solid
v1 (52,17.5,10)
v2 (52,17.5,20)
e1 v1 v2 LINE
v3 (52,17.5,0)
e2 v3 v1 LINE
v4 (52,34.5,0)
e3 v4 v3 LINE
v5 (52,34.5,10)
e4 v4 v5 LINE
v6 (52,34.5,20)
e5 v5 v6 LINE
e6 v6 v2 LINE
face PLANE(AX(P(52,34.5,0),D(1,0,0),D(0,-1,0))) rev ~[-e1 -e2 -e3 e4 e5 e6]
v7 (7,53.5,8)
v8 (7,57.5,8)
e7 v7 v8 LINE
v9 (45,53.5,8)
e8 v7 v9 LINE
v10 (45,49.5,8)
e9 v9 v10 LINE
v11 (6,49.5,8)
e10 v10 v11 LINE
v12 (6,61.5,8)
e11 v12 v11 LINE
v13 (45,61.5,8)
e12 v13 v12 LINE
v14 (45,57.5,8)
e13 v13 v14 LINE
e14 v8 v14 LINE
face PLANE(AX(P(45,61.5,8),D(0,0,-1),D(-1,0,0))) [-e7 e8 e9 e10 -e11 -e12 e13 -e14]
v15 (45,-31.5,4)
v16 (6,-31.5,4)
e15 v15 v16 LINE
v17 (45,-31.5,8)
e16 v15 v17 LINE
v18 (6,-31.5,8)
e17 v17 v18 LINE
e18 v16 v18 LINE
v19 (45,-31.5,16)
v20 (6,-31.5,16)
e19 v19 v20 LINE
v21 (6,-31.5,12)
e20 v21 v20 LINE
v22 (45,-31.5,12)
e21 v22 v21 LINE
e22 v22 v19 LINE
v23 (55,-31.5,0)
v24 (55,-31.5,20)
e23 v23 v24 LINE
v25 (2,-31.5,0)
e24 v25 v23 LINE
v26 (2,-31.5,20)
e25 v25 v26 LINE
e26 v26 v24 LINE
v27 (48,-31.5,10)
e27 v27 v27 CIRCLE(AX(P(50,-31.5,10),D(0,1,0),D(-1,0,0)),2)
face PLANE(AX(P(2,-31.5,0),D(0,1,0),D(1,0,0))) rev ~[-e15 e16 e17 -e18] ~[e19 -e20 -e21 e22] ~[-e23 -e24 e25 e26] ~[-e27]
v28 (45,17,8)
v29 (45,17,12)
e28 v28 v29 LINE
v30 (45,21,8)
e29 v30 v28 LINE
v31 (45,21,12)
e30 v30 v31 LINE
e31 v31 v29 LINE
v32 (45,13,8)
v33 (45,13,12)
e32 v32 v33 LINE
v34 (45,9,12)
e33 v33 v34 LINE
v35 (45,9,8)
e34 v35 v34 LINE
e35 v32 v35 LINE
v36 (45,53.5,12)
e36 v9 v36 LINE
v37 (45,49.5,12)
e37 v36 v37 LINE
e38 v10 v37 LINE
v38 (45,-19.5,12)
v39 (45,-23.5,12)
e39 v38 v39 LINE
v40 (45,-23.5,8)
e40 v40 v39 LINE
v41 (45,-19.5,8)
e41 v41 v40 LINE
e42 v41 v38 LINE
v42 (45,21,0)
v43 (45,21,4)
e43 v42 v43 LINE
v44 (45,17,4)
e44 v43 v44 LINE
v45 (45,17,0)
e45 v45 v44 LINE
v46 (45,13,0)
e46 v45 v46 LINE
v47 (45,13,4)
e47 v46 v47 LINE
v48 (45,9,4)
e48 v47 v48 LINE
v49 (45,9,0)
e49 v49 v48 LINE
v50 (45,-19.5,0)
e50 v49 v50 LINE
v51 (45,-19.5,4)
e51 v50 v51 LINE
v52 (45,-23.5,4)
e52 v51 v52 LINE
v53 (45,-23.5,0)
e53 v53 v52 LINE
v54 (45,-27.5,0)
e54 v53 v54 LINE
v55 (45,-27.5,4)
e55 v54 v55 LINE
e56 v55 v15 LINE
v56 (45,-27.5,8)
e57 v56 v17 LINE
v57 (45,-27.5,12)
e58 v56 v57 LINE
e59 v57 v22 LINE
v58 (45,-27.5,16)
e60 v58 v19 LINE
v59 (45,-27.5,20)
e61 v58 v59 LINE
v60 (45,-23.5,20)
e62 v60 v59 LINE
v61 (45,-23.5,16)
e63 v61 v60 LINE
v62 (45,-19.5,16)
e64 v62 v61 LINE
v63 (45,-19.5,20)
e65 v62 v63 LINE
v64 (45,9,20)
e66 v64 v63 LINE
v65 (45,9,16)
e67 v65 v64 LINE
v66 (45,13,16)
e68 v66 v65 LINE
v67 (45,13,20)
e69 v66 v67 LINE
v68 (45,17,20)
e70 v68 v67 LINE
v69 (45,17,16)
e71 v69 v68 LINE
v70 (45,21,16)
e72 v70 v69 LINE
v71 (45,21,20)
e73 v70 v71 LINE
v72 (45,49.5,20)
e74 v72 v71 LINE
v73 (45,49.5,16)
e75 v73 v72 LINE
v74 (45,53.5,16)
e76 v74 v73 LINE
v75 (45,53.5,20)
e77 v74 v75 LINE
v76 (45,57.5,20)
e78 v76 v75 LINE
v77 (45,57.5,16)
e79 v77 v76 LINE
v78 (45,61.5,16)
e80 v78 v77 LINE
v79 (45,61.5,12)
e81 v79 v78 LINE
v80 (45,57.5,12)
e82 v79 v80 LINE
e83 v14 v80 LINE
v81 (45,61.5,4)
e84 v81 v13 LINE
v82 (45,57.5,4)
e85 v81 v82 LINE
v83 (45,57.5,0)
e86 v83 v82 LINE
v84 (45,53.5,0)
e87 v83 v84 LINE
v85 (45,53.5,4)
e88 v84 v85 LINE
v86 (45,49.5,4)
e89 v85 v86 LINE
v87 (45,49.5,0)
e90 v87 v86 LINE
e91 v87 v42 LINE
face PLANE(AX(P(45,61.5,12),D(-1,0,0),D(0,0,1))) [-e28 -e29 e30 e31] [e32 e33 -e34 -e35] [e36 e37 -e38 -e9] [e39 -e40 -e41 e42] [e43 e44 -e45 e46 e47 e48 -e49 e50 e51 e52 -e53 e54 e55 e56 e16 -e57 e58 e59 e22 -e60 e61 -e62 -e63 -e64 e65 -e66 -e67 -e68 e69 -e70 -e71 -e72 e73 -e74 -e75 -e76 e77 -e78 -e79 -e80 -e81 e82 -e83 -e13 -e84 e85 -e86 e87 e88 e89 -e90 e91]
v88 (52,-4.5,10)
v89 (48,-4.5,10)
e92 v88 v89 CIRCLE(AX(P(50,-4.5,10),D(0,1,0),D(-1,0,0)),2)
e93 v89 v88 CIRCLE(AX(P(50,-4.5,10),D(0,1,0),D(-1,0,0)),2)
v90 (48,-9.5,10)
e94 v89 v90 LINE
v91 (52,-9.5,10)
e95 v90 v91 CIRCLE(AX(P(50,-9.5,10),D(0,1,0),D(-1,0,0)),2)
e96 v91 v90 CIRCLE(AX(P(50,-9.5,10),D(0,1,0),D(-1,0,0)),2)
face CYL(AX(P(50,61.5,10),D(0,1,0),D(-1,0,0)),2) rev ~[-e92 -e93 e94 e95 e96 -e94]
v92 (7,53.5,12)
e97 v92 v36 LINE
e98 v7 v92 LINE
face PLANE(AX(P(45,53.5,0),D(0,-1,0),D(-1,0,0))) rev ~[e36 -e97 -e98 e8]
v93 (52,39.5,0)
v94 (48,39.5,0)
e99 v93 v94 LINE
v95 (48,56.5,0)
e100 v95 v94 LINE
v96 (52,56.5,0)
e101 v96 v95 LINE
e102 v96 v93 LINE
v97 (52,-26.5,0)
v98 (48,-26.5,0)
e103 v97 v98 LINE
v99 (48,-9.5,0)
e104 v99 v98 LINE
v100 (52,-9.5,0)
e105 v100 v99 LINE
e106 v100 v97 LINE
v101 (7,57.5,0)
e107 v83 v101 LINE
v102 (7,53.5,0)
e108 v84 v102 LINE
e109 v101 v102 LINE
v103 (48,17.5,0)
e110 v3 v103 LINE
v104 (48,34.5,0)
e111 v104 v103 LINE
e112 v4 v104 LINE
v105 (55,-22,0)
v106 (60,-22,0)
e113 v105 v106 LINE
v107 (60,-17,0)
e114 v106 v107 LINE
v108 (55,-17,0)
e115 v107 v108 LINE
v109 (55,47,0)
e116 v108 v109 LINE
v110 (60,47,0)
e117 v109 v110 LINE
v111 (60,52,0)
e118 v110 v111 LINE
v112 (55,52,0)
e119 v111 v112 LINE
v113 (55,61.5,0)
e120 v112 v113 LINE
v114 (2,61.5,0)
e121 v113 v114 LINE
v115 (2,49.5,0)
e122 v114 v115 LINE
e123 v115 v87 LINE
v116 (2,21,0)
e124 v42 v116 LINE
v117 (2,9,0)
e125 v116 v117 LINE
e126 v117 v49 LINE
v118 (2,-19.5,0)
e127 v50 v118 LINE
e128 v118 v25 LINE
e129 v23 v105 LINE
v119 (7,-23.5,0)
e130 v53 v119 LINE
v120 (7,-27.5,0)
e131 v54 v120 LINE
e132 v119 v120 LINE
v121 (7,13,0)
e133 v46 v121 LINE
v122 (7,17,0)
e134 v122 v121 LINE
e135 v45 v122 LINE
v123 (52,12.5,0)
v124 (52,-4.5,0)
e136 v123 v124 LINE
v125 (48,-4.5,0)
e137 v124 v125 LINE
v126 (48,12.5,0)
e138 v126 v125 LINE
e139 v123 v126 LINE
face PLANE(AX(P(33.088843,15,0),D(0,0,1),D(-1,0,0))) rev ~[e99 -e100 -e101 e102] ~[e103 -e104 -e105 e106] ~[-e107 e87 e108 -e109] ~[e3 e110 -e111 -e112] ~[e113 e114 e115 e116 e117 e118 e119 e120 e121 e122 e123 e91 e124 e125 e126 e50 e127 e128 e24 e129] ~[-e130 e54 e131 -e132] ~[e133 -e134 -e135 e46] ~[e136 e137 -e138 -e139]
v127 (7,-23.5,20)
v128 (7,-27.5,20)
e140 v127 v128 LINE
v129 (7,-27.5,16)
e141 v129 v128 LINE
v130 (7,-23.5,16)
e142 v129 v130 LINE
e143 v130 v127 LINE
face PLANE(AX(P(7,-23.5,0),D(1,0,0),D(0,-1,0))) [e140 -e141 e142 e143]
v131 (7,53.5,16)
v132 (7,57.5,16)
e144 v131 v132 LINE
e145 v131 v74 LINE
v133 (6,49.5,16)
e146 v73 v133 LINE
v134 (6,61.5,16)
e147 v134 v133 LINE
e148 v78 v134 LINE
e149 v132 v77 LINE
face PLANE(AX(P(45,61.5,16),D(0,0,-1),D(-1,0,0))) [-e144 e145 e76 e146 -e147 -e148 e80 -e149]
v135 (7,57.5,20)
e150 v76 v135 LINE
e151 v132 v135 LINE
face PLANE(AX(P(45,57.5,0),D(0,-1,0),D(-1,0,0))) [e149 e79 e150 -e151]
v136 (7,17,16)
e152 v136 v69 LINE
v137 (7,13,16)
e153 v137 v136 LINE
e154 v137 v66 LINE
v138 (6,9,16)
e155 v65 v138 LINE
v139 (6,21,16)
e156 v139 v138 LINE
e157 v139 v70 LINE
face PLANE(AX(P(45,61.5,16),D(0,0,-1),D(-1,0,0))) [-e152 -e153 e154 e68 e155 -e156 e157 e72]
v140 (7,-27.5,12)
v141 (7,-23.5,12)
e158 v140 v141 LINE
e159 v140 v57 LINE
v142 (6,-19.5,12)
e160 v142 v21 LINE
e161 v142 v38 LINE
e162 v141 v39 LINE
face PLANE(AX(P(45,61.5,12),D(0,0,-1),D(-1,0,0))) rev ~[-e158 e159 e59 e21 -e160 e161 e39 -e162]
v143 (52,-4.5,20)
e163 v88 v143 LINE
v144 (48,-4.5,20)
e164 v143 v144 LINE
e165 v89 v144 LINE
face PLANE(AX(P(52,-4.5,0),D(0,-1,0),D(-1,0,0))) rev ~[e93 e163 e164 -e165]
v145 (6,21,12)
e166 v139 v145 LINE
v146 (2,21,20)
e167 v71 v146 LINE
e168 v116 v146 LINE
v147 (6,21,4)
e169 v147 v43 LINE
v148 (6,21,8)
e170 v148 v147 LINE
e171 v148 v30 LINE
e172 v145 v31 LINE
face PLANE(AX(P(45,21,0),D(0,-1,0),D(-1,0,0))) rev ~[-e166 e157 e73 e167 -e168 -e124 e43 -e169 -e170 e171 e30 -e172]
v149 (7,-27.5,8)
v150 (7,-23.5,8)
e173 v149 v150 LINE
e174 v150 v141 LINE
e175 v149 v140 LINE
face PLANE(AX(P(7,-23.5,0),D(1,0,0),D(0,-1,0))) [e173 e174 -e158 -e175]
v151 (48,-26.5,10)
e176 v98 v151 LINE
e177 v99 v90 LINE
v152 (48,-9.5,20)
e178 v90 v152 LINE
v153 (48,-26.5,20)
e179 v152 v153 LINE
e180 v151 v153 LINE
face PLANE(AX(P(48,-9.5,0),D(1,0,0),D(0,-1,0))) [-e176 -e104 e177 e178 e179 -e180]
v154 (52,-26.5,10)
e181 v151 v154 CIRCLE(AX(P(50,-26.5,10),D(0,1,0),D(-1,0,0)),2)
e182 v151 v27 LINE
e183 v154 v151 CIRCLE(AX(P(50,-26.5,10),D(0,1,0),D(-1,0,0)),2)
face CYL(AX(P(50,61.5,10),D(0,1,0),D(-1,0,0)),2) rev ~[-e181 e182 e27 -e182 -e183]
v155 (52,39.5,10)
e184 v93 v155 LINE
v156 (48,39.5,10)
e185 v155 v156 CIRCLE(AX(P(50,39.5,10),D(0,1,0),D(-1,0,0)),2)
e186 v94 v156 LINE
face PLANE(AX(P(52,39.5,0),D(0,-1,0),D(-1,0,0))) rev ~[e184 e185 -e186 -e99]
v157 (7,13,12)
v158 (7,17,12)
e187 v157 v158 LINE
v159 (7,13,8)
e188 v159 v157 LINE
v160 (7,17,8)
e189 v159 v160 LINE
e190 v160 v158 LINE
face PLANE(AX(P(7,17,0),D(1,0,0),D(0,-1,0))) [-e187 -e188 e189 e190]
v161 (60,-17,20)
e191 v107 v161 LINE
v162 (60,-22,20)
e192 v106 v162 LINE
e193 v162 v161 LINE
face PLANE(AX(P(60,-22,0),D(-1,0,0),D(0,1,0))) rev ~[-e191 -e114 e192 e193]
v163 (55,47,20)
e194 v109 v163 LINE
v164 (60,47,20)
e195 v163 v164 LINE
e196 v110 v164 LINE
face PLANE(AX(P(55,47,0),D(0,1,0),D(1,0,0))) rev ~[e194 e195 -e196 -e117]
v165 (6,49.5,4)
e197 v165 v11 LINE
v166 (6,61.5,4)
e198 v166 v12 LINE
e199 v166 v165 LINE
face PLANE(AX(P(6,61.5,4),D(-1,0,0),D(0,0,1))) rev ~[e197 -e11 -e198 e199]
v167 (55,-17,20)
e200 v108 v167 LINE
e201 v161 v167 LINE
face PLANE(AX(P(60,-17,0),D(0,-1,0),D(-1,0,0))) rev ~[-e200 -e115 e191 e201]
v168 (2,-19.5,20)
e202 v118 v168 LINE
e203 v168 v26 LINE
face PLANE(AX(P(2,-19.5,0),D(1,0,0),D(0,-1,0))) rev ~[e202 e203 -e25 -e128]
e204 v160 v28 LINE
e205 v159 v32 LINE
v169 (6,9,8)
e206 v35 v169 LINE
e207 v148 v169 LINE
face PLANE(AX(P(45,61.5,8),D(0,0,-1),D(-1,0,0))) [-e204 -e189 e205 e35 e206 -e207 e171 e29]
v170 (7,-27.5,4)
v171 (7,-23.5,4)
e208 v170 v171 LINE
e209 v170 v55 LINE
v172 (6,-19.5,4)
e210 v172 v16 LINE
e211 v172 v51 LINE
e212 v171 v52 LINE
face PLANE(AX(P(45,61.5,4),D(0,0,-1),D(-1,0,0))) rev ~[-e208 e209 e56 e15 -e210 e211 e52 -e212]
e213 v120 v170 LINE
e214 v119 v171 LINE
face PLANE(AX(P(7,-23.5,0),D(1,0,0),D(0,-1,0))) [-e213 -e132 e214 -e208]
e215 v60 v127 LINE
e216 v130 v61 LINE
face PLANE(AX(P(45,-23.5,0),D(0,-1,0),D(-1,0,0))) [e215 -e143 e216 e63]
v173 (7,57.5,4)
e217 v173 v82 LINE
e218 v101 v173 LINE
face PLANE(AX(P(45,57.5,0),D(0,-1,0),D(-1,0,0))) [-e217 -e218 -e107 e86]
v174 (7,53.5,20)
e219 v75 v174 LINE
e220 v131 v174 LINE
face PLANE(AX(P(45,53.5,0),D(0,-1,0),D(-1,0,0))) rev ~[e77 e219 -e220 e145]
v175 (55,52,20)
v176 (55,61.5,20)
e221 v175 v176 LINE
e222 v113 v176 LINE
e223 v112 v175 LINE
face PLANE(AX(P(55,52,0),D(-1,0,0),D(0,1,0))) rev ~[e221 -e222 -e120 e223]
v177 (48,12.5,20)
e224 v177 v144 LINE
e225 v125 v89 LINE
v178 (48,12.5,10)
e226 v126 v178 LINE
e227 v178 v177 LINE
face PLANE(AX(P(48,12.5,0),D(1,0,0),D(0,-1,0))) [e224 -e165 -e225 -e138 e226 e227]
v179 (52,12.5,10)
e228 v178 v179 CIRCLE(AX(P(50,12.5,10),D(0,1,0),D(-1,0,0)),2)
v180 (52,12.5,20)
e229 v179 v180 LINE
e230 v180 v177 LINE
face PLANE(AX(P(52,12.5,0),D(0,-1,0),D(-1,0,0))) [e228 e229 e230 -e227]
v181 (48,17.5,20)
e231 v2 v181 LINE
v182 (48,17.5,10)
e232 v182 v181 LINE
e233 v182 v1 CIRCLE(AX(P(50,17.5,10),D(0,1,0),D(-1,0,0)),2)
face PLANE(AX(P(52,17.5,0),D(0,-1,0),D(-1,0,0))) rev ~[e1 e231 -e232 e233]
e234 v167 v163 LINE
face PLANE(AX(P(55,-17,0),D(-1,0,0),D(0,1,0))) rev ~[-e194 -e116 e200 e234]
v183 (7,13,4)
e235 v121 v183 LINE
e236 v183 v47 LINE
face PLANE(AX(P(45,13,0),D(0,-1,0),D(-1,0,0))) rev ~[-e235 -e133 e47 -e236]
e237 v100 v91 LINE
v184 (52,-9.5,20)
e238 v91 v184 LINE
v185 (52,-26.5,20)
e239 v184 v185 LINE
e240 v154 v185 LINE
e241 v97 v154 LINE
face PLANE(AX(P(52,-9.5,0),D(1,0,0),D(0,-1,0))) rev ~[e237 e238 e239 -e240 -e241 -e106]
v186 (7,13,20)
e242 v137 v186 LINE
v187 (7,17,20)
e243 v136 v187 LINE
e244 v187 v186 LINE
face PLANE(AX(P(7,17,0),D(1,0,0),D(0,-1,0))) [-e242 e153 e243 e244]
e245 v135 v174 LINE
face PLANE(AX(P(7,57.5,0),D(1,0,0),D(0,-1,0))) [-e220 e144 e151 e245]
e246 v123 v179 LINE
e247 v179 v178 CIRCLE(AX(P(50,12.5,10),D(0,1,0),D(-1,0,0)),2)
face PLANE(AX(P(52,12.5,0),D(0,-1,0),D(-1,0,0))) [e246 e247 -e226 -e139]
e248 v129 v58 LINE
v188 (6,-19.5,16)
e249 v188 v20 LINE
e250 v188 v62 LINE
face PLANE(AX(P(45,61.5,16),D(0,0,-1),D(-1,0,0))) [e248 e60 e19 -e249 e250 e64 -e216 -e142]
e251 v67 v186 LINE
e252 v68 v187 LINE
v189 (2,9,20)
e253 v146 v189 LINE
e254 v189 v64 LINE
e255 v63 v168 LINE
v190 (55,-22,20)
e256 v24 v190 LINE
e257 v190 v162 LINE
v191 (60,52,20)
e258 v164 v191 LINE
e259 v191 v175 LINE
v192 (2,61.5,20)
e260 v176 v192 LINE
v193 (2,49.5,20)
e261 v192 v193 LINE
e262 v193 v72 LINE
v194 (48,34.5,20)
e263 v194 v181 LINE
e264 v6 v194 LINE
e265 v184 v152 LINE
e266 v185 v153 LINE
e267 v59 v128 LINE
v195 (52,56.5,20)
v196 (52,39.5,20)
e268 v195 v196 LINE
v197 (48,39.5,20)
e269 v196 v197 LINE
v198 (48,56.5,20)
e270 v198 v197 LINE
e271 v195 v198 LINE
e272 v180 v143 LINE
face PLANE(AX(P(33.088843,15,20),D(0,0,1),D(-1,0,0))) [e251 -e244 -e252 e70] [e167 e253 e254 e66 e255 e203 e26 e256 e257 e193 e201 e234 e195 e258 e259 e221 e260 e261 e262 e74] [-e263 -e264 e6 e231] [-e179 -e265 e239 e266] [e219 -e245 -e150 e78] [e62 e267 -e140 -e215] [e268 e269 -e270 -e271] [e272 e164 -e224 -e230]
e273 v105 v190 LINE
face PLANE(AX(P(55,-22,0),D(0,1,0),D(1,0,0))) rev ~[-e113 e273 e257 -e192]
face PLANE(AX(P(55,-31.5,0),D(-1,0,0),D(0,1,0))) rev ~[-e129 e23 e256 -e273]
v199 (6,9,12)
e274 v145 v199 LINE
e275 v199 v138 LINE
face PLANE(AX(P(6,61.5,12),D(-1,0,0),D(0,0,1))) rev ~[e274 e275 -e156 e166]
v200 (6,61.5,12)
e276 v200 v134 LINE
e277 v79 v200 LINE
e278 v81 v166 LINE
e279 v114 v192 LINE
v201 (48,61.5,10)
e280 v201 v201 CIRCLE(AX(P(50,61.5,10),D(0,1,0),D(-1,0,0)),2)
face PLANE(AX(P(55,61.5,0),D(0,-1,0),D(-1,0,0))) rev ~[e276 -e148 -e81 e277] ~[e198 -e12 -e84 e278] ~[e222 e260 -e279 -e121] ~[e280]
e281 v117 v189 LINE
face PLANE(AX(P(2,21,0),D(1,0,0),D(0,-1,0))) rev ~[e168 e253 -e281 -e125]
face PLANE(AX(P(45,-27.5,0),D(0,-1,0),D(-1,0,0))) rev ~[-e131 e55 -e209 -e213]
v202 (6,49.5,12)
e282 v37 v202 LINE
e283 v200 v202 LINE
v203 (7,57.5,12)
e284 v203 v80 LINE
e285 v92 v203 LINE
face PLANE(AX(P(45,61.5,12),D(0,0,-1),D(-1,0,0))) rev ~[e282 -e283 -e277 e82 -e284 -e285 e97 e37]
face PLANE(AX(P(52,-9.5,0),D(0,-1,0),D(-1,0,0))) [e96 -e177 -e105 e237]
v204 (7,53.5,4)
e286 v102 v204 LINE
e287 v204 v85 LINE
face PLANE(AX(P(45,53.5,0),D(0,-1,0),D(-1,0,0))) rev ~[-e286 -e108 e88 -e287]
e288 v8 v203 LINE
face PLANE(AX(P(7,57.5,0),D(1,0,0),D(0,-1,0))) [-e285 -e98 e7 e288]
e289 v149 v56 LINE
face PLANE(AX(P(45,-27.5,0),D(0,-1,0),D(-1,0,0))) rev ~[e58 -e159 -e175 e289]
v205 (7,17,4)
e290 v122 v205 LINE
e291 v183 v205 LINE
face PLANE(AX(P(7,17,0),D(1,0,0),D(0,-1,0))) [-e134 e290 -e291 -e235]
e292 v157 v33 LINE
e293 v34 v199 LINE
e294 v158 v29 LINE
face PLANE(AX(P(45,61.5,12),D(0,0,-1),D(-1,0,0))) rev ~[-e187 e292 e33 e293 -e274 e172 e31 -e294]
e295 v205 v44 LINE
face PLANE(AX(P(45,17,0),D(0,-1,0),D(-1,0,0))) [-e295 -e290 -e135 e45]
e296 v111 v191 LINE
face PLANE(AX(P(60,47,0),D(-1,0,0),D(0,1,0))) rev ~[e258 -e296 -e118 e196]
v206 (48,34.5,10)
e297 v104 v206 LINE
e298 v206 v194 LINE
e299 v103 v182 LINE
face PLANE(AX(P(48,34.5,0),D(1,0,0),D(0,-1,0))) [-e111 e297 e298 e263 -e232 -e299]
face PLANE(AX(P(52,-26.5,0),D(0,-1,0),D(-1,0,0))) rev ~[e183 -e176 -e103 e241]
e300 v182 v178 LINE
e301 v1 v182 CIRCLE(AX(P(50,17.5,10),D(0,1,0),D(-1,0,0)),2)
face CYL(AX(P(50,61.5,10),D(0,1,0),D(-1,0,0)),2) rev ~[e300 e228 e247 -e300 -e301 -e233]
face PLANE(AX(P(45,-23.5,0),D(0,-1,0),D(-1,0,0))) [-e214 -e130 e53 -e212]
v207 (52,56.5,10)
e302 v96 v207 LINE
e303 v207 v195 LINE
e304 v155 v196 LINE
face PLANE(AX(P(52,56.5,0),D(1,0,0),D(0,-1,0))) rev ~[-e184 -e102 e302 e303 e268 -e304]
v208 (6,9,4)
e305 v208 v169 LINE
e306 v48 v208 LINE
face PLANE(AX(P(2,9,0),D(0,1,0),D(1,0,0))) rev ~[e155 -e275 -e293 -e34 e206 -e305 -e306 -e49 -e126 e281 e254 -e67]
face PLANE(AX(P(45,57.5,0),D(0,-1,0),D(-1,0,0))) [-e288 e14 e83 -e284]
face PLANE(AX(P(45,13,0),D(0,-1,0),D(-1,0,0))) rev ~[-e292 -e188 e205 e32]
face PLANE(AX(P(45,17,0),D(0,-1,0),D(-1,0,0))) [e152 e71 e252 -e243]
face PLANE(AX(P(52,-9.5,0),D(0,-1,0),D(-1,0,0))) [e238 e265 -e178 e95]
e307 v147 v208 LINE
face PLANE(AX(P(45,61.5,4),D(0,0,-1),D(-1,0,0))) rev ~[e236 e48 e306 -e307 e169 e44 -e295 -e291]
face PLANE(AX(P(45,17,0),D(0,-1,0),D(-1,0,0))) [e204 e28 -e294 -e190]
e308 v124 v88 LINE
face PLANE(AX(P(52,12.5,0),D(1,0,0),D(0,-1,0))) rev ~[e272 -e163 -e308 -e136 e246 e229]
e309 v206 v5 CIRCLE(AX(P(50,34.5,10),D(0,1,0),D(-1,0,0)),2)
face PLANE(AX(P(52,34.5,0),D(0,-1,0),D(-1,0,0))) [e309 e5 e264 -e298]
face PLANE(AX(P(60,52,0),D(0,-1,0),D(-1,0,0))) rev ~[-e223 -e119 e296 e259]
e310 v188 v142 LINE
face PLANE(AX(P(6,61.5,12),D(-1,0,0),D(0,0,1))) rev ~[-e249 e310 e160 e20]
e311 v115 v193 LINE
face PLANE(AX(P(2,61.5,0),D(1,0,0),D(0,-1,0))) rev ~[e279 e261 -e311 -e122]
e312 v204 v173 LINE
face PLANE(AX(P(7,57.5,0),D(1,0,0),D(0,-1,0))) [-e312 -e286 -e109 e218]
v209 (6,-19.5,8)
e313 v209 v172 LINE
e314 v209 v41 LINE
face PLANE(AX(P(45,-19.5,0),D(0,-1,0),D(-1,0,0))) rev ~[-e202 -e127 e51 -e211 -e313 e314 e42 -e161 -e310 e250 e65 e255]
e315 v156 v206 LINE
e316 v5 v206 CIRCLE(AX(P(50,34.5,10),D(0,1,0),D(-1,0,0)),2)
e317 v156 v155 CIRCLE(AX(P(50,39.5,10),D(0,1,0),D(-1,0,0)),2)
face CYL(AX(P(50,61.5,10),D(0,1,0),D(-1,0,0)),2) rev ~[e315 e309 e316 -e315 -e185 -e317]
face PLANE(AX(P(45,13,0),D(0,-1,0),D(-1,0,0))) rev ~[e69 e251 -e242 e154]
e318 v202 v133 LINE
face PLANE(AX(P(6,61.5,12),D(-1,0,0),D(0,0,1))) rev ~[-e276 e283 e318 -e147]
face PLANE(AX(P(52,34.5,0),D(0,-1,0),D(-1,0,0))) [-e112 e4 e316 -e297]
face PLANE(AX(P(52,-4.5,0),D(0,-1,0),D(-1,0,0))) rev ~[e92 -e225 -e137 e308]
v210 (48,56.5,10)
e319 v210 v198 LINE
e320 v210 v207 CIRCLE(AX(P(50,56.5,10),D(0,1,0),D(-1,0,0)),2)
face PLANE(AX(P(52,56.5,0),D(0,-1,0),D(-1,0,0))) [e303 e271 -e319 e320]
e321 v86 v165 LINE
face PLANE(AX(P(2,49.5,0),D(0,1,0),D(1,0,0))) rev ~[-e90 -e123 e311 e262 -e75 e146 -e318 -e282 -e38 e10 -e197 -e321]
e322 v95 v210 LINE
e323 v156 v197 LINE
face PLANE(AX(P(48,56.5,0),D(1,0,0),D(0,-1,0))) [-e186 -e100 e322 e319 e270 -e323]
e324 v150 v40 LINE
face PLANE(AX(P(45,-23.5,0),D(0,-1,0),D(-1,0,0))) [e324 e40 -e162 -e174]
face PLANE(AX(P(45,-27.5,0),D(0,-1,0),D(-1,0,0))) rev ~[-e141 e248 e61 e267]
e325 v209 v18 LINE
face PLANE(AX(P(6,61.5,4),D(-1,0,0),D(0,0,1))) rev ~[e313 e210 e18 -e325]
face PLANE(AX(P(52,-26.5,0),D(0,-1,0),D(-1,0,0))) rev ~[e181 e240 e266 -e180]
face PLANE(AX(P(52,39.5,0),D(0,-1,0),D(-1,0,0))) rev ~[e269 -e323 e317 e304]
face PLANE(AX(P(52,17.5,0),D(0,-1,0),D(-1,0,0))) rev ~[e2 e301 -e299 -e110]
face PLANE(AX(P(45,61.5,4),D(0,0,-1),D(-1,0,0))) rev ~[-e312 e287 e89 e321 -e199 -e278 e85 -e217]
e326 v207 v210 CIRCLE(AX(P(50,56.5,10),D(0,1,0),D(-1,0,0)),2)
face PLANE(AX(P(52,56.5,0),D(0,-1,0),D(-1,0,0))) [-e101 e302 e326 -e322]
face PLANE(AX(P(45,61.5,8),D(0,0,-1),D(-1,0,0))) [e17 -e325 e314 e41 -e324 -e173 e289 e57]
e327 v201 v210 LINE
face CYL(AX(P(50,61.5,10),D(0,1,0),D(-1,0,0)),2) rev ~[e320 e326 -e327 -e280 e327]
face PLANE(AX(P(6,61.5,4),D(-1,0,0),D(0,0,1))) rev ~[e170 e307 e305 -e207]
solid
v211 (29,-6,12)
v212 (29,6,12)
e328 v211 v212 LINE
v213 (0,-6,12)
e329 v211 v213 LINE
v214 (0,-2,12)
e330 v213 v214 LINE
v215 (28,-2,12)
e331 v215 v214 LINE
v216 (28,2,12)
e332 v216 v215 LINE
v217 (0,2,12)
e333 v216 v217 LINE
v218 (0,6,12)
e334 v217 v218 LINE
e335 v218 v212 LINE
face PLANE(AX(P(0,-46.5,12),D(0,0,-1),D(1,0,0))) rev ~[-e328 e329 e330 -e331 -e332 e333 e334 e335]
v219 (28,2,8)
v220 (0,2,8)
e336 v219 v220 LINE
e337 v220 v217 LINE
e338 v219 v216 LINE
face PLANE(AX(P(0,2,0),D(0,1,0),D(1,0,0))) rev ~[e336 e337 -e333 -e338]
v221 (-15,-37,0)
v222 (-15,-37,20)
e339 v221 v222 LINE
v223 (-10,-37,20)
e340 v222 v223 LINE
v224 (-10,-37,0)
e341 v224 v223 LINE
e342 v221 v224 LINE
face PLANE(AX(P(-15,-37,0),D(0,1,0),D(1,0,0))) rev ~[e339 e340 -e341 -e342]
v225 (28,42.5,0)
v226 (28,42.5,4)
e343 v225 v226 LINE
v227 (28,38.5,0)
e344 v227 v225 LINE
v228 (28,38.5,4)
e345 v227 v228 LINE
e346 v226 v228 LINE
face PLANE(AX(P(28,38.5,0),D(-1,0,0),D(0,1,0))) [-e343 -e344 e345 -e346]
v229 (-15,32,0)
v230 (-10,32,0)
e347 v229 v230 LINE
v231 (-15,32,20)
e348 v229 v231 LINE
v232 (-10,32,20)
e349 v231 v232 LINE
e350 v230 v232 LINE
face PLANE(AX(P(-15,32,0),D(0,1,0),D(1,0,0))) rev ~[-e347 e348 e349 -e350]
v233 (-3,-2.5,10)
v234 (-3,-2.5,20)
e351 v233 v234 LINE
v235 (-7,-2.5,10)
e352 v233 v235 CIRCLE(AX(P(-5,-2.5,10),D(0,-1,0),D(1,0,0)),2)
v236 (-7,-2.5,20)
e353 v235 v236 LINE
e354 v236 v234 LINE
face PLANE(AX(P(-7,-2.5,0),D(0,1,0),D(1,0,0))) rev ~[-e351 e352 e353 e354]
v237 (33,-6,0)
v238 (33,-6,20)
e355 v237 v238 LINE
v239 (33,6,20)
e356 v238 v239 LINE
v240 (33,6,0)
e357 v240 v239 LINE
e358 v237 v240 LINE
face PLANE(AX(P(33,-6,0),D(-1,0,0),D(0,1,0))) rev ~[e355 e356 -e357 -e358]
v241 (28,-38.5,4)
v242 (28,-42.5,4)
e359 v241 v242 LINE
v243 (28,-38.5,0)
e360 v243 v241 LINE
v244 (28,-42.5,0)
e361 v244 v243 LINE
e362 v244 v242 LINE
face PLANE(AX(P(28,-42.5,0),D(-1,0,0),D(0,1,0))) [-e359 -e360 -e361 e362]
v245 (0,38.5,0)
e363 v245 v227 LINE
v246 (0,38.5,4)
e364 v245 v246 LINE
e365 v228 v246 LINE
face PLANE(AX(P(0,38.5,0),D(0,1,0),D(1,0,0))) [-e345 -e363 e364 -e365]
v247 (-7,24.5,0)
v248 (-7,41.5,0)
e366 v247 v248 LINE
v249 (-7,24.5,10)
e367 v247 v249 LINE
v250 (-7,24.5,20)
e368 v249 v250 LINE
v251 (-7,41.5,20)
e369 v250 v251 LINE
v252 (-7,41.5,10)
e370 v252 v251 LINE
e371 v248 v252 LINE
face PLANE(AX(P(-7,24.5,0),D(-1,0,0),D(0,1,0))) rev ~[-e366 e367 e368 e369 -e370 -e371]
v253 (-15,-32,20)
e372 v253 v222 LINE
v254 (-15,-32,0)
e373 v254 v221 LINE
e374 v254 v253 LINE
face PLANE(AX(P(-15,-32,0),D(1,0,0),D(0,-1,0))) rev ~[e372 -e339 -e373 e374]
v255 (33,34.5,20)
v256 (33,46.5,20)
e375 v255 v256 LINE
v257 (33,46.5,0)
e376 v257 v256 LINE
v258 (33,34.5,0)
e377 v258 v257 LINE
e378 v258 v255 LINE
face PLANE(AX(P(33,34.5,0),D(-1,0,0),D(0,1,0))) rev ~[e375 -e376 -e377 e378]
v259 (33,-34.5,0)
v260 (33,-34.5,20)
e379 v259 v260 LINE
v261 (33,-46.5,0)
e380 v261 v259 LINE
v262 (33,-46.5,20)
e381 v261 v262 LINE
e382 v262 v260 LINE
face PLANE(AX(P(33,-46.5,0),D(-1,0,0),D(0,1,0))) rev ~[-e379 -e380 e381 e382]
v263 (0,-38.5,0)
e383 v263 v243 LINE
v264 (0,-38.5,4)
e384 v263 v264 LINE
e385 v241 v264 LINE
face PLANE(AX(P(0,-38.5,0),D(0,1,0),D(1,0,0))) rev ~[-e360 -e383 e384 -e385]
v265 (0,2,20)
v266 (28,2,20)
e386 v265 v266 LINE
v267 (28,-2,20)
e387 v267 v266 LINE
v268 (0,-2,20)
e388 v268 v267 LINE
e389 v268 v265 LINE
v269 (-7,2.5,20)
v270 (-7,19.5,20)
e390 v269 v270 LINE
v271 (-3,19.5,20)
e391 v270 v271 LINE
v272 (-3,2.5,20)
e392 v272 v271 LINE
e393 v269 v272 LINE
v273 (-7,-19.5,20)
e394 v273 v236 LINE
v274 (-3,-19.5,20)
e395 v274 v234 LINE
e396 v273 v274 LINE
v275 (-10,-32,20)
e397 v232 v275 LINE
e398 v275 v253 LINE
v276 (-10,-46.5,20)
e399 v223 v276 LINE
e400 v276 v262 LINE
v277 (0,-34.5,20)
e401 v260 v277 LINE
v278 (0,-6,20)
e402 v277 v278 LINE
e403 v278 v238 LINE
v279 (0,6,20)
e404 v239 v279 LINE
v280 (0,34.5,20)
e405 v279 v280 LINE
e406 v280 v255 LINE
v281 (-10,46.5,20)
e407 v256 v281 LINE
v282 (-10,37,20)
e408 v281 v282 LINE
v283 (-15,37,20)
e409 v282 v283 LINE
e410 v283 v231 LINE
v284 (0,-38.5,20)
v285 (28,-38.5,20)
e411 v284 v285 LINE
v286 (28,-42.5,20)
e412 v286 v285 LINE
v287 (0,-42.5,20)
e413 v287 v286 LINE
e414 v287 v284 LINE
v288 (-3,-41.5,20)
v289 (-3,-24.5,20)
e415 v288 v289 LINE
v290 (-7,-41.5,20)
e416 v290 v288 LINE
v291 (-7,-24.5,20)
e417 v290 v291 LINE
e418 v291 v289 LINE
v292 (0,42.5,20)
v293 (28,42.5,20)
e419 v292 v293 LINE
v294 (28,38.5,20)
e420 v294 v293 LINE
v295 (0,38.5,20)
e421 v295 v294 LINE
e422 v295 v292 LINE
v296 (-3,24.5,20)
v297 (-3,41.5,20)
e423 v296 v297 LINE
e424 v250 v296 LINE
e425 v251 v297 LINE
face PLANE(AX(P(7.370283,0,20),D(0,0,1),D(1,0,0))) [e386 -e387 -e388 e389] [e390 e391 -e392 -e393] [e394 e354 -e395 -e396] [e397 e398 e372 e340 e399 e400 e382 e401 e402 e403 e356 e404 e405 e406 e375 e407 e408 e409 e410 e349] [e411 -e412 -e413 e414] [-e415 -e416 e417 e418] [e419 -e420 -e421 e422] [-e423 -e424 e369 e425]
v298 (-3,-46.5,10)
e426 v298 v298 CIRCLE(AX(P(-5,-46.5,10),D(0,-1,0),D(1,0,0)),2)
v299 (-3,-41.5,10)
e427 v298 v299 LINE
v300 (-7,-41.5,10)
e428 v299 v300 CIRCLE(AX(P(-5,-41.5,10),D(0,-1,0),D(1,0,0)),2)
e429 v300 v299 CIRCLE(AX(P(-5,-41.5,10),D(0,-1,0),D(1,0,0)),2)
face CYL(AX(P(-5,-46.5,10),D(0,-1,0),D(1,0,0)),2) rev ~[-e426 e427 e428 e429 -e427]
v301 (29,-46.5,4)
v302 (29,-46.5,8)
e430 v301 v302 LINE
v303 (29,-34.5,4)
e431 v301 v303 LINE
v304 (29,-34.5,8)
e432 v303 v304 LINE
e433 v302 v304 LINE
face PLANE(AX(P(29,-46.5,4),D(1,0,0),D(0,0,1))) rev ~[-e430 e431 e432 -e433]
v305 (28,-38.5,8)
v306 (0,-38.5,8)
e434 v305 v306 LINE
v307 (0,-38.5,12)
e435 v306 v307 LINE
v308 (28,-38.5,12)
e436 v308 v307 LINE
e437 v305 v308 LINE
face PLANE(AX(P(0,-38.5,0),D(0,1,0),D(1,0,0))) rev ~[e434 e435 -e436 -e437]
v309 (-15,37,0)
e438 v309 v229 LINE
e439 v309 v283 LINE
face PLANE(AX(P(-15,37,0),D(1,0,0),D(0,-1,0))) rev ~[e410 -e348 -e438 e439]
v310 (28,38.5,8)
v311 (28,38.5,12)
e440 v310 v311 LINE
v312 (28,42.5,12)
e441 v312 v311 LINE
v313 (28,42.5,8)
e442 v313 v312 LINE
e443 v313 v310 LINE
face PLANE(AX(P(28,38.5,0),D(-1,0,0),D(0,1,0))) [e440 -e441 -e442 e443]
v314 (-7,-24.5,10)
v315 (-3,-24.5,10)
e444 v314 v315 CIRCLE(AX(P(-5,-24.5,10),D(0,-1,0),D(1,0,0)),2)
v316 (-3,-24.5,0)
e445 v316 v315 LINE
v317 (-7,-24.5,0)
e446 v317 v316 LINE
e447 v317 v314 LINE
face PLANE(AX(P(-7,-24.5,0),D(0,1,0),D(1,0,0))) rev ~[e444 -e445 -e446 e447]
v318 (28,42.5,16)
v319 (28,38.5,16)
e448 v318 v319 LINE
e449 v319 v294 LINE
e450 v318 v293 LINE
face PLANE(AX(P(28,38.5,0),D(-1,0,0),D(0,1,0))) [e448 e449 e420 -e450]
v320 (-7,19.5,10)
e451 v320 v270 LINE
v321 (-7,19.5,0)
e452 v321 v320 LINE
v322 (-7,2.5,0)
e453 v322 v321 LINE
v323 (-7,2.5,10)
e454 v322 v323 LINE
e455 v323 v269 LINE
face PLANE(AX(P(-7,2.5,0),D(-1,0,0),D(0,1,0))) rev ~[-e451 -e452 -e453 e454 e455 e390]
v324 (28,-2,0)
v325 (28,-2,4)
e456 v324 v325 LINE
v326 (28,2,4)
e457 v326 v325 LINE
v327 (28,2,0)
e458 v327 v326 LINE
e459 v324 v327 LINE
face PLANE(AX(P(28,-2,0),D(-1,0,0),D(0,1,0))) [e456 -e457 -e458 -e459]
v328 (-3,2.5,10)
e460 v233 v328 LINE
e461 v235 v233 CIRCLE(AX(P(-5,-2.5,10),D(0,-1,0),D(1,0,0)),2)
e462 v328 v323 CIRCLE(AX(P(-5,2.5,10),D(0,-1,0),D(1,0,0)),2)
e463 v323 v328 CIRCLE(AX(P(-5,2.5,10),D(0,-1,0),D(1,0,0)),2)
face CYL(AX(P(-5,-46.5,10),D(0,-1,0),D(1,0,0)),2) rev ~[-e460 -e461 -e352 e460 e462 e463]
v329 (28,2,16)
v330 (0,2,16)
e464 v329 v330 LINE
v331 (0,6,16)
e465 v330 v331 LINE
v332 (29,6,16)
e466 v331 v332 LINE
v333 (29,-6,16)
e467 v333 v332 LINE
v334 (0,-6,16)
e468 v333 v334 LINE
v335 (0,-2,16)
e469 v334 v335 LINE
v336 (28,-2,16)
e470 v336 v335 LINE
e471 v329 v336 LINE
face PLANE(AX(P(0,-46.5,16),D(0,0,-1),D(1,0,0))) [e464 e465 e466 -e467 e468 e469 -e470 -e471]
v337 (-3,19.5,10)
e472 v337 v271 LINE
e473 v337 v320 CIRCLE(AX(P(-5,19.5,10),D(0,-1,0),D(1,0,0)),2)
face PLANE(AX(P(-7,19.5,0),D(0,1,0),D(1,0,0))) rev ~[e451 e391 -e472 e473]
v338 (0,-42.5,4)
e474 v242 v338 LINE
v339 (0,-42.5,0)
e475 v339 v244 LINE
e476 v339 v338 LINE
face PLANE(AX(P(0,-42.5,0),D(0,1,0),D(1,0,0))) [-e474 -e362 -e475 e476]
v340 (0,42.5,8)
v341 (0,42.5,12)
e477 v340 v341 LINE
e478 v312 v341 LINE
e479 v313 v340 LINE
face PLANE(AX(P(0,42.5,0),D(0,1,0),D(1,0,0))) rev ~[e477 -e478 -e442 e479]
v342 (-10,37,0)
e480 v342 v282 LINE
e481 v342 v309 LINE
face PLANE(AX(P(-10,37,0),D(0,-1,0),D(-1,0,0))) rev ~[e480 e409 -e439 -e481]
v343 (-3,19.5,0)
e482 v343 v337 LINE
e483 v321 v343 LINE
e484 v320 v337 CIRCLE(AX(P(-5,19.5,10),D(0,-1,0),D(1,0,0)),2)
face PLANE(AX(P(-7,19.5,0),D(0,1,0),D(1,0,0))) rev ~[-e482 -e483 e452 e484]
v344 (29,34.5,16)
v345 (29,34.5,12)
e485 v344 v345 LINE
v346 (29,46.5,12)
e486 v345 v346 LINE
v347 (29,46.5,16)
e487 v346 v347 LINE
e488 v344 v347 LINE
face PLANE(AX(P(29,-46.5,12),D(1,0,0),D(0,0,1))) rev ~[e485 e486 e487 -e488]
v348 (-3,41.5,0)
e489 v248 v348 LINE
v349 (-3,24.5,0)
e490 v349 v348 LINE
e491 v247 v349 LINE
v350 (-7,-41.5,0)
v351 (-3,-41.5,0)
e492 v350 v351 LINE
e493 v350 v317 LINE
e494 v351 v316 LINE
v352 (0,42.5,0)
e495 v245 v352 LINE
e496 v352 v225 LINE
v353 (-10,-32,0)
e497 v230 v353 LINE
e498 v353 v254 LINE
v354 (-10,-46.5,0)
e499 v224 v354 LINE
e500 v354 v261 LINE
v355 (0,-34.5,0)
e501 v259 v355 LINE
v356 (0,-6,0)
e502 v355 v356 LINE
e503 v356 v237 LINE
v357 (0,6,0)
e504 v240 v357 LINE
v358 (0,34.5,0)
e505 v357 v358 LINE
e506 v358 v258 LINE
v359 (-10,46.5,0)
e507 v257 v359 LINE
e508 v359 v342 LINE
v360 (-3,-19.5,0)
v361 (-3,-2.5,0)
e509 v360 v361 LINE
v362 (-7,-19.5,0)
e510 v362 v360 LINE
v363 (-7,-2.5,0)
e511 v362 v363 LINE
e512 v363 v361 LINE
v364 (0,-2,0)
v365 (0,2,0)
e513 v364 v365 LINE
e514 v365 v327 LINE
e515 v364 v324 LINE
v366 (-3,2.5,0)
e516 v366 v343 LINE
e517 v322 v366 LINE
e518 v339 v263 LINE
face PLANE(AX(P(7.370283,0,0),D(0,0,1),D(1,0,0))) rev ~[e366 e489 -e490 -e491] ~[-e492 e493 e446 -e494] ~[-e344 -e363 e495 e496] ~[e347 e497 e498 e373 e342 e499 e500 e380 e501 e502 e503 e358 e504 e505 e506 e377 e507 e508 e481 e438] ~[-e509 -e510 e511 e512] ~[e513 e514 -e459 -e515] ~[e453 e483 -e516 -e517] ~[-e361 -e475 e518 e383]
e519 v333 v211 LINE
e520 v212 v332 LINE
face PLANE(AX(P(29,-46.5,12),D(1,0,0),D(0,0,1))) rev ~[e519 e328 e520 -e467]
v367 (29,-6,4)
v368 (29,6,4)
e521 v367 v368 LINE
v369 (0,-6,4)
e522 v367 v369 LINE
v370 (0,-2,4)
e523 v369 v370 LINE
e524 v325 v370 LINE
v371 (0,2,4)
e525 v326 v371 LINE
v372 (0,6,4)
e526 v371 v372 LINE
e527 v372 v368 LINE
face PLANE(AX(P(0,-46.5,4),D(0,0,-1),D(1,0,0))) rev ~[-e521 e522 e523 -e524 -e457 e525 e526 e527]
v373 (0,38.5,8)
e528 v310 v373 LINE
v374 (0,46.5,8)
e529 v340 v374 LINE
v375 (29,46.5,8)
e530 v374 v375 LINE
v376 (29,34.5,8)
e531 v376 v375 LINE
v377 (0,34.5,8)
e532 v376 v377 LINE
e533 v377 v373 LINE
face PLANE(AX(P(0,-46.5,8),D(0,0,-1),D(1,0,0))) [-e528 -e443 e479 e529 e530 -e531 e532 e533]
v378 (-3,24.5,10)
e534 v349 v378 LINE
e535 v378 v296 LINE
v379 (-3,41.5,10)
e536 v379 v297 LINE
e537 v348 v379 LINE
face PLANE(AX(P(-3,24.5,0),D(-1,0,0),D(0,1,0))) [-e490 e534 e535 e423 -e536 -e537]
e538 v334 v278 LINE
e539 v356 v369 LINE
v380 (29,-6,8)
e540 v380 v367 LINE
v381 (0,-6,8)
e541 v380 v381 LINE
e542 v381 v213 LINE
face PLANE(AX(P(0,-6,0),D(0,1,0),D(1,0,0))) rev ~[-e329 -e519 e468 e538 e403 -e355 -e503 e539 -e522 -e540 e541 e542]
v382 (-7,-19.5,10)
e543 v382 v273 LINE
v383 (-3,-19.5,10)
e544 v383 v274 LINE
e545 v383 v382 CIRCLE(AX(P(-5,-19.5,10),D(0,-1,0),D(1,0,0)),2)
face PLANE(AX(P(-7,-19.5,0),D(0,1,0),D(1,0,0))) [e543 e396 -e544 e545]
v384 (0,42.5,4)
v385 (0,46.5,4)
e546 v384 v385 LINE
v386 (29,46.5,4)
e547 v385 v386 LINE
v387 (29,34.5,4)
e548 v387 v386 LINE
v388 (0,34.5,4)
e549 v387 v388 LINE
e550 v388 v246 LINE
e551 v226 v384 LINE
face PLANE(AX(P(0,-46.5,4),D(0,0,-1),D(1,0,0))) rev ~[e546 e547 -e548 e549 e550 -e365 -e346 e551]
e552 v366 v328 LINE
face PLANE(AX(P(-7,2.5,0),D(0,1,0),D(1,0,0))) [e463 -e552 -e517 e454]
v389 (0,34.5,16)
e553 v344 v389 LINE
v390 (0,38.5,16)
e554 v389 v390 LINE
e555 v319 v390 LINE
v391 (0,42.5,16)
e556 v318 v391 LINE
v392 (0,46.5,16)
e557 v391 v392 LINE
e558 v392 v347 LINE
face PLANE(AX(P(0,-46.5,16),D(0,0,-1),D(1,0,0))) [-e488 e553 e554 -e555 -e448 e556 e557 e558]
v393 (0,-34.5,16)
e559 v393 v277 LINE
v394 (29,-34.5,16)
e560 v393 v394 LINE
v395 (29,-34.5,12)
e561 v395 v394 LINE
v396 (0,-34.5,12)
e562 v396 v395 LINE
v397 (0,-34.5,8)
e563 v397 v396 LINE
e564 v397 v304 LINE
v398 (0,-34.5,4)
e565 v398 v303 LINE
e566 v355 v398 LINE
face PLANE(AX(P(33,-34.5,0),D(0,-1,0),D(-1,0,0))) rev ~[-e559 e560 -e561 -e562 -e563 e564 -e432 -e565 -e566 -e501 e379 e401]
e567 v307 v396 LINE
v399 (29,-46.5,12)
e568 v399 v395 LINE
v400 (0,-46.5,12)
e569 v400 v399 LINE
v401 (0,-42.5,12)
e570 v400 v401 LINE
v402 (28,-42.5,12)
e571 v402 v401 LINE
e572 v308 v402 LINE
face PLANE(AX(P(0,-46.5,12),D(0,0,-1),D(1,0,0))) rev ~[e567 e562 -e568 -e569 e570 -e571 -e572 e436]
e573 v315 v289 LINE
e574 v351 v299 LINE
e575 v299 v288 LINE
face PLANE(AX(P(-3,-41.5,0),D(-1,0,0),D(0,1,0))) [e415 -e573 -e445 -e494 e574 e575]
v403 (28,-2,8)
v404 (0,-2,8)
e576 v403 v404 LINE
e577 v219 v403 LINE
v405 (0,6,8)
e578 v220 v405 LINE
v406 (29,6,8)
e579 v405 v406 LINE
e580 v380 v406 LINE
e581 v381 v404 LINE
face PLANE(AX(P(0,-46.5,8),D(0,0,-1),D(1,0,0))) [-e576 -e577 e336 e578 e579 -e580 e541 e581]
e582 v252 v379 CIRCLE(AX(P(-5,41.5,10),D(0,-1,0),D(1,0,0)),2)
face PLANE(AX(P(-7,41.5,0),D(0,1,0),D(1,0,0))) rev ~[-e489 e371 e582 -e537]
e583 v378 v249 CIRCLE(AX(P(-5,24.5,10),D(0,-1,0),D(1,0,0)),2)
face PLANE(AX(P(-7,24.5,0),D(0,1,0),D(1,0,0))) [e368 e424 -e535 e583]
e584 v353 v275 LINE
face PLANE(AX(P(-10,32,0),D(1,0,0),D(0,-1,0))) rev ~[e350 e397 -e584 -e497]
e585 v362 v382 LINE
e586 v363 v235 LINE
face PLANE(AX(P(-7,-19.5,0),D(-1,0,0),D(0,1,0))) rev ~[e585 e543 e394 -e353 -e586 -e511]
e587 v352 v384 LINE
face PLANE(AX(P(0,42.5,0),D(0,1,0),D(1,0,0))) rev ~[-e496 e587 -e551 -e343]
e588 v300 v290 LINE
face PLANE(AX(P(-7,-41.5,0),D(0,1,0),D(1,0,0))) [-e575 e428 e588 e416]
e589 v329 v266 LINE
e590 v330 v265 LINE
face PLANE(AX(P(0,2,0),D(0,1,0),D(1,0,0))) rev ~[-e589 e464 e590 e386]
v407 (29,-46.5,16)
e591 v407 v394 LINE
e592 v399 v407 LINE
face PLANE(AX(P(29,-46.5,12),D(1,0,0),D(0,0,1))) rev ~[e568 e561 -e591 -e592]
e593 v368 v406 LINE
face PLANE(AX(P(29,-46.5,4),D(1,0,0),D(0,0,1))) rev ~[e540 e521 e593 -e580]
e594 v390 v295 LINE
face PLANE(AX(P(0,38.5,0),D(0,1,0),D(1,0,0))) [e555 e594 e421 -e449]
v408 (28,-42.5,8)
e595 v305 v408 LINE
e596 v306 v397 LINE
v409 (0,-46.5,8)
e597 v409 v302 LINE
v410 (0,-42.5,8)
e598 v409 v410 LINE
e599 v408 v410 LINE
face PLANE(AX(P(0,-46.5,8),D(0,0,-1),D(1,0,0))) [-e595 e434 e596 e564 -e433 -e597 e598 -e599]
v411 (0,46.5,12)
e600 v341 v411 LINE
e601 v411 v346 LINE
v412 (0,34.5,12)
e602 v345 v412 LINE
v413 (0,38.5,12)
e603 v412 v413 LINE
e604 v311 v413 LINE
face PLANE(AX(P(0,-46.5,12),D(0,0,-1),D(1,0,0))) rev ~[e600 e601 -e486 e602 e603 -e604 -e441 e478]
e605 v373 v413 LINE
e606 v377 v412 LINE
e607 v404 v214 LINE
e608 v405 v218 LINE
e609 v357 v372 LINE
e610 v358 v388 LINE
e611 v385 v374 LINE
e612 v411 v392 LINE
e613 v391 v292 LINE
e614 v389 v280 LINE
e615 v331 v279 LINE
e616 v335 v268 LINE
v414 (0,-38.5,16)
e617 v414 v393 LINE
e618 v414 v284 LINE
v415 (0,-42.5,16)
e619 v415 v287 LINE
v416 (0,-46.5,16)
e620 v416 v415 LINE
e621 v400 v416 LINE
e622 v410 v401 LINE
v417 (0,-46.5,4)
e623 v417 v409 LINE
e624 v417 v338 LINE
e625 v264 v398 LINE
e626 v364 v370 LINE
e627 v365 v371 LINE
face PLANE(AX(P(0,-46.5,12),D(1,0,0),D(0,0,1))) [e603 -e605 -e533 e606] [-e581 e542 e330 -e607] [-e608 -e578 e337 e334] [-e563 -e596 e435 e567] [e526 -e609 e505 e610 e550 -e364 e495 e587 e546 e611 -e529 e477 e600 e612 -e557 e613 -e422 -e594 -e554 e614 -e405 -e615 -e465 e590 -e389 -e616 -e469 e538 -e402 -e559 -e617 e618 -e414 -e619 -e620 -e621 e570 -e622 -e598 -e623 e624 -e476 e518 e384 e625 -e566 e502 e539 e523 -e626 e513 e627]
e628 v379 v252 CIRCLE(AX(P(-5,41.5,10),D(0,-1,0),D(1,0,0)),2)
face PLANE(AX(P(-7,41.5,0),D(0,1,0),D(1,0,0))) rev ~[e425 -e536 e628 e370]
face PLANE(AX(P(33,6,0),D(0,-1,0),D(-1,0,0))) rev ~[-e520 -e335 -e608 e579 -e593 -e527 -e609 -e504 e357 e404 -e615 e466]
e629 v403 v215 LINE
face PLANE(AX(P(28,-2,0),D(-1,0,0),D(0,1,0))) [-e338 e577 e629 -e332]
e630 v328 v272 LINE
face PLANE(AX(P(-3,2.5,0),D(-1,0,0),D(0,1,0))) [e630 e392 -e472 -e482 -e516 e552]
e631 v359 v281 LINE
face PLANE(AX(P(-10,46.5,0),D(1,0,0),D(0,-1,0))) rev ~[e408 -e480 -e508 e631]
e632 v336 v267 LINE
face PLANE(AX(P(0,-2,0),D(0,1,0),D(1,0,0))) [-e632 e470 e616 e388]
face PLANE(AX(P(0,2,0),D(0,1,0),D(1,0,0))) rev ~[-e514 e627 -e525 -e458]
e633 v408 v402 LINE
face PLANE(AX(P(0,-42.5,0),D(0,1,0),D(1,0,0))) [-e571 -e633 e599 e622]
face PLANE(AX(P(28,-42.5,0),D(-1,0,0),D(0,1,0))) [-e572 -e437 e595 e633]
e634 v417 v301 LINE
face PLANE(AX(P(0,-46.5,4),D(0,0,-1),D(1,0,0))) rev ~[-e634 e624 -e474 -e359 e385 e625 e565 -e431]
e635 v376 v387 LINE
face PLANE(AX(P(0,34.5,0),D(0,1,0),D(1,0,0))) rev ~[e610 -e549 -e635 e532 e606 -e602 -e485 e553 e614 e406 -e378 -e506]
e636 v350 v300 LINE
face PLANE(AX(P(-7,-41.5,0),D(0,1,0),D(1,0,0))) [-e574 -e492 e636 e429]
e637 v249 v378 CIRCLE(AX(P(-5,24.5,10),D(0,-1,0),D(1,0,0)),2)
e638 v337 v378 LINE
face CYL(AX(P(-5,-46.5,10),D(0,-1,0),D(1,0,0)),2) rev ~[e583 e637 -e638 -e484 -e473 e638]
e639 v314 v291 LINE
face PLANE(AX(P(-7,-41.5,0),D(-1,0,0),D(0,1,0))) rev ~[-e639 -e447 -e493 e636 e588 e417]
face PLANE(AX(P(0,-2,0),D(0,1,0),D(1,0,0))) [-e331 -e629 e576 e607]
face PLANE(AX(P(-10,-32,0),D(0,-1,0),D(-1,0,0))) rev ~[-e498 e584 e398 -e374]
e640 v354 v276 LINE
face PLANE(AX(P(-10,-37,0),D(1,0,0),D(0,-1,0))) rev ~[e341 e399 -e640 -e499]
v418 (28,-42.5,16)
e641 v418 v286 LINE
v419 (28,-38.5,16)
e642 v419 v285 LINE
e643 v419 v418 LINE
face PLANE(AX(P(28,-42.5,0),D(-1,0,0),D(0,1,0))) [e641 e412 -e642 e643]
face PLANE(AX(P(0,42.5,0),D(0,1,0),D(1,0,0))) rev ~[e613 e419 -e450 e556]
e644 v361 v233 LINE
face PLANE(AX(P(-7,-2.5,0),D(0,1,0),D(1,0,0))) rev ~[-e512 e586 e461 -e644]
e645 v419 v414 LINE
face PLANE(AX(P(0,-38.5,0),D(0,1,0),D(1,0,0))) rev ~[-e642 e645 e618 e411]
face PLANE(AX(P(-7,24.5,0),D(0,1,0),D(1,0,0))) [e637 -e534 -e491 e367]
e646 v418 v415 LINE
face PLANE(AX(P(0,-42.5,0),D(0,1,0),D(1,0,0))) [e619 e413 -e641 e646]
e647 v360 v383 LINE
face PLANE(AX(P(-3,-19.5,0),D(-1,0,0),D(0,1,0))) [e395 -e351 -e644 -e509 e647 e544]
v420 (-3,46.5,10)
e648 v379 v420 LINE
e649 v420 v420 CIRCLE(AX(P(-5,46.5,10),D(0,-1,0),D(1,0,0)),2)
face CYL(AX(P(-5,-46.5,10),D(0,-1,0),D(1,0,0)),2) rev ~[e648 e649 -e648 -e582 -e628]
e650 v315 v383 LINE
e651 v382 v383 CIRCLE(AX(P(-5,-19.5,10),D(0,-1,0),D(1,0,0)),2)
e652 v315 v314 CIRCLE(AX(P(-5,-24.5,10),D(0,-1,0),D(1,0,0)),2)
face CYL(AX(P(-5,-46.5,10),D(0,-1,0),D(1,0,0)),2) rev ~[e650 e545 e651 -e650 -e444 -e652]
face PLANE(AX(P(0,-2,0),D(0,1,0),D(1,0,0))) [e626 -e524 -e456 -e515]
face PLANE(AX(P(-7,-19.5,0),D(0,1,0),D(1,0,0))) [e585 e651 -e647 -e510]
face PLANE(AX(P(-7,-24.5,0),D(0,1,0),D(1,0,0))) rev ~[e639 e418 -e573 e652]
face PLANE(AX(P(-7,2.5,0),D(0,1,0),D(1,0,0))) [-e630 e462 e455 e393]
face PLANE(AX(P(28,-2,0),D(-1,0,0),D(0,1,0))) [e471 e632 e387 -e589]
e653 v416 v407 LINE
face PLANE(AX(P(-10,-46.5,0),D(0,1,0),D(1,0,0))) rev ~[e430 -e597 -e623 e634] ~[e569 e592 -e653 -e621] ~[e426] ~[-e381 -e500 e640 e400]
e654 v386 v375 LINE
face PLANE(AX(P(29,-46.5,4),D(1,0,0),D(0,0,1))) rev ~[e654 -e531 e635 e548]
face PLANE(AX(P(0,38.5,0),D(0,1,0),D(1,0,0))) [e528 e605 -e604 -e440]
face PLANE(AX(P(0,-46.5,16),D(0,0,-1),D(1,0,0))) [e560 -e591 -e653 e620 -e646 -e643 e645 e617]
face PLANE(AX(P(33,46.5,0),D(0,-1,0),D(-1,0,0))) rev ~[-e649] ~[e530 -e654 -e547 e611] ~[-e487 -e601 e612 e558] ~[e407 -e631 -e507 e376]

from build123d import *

# Parameters (mm, degrees)
SKETCH_W        = 4
SKETCH_H        = 17
SKETCH_W_2      = 28
SKETCH_H_2      = 4
PAD_DEPTH       = 20
SKETCH001_R     = 2
SKETCH001_W     = 29
SKETCH001_H     = 4
POCKET_DEPTH    = 93.001
SKETCH002_W     = 4
SKETCH002_H     = 17
SKETCH002_W_2   = 38
SKETCH002_H_2   = 4
PAD001_DEPTH    = 20
SKETCH003_R     = 2
SKETCH003_W     = 39
SKETCH003_H     = 4
POCKET001_DEPTH = 93.001


with BuildPart() as soporte_aligerado:
    # Sketch → Pad (new body)
    with BuildSketch(Plane.XY):
        Polygon((-10, -46.5), (33, -46.5), (33, -34.5), (0, -34.5), (0, -6), (33, -6), (33, 6), (0, 6), (0, 34.5), (33, 34.5), (33, 46.5), (-10, 46.5), (-10, 37), (-15, 37), (-15, 32), (-10, 32), (-10, -32), (-15, -32), (-15, -37), (-10, -37), align=None)
        with Locations((-5, 33)):
            Rectangle(SKETCH_W, SKETCH_H, mode=Mode.SUBTRACT)
        with Locations((-5, -33)):
            Rectangle(SKETCH_W, SKETCH_H, mode=Mode.SUBTRACT)
        with Locations((-5, -11)):
            Rectangle(SKETCH_W, SKETCH_H, mode=Mode.SUBTRACT)
        with Locations((-5, 11)):
            Rectangle(SKETCH_W, SKETCH_H, mode=Mode.SUBTRACT)
        with Locations((14, -40.5)):
            Rectangle(SKETCH_W_2, SKETCH_H_2, mode=Mode.SUBTRACT)
        with Locations((14, 0)):
            Rectangle(SKETCH_W_2, SKETCH_H_2, mode=Mode.SUBTRACT)
        with Locations((14, 40.5)):
            Rectangle(SKETCH_W_2, SKETCH_H_2, mode=Mode.SUBTRACT)
    extrude(amount=PAD_DEPTH)

    # Sketch001 → Pocket (cut, through all)
    with BuildSketch(Plane.XZ.offset(46.5)):
        with Locations((-5, 10)):
            Circle(SKETCH001_R)
        with Locations((14.5, 14)):
            Rectangle(SKETCH001_W, SKETCH001_H)
        with Locations((14.5, 6)):
            Rectangle(SKETCH001_W, SKETCH001_H)
    extrude(amount=-POCKET_DEPTH, mode=Mode.SUBTRACT)


with BuildPart() as soporte_aligerado001:
    # Sketch002 → Pad001 (new body)
    with BuildSketch(Plane(origin=(45, 15, 0), x_dir=(-1, 0, 0), z_dir=(0, 0, 1))):
        Polygon((-10, -46.5), (43, -46.5), (43, -34.5), (0, -34.5), (0, -6), (43, -6), (43, 6), (0, 6), (0, 34.5), (43, 34.5), (43, 46.5), (-10, 46.5), (-10, 37), (-15, 37), (-15, 32), (-10, 32), (-10, -32), (-15, -32), (-15, -37), (-10, -37), align=None)
        with Locations((-5, 33)):
            Rectangle(SKETCH002_W, SKETCH002_H, mode=Mode.SUBTRACT)
        with Locations((-5, -33)):
            Rectangle(SKETCH002_W, SKETCH002_H, mode=Mode.SUBTRACT)
        with Locations((-5, -11)):
            Rectangle(SKETCH002_W, SKETCH002_H, mode=Mode.SUBTRACT)
        with Locations((-5, 11)):
            Rectangle(SKETCH002_W, SKETCH002_H, mode=Mode.SUBTRACT)
        with Locations((19, -40.5)):
            Rectangle(SKETCH002_W_2, SKETCH002_H_2, mode=Mode.SUBTRACT)
        with Locations((19, 0)):
            Rectangle(SKETCH002_W_2, SKETCH002_H_2, mode=Mode.SUBTRACT)
        with Locations((19, 40.5)):
            Rectangle(SKETCH002_W_2, SKETCH002_H_2, mode=Mode.SUBTRACT)
    extrude(amount=PAD001_DEPTH)

    # Sketch003 → Pocket001 (cut, through all)
    with BuildSketch(Plane(origin=(45, 61.5, 0), x_dir=(-1, 0, 0), z_dir=(0, 1, 0))):
        with Locations((-5, 10)):
            Circle(SKETCH003_R)
        with Locations((19.5, 14)):
            Rectangle(SKETCH003_W, SKETCH003_H)
        with Locations((19.5, 6)):
            Rectangle(SKETCH003_W, SKETCH003_H)
    extrude(amount=-POCKET001_DEPTH, mode=Mode.SUBTRACT)


solid = Compound([soporte_aligerado.part, soporte_aligerado001.part])
